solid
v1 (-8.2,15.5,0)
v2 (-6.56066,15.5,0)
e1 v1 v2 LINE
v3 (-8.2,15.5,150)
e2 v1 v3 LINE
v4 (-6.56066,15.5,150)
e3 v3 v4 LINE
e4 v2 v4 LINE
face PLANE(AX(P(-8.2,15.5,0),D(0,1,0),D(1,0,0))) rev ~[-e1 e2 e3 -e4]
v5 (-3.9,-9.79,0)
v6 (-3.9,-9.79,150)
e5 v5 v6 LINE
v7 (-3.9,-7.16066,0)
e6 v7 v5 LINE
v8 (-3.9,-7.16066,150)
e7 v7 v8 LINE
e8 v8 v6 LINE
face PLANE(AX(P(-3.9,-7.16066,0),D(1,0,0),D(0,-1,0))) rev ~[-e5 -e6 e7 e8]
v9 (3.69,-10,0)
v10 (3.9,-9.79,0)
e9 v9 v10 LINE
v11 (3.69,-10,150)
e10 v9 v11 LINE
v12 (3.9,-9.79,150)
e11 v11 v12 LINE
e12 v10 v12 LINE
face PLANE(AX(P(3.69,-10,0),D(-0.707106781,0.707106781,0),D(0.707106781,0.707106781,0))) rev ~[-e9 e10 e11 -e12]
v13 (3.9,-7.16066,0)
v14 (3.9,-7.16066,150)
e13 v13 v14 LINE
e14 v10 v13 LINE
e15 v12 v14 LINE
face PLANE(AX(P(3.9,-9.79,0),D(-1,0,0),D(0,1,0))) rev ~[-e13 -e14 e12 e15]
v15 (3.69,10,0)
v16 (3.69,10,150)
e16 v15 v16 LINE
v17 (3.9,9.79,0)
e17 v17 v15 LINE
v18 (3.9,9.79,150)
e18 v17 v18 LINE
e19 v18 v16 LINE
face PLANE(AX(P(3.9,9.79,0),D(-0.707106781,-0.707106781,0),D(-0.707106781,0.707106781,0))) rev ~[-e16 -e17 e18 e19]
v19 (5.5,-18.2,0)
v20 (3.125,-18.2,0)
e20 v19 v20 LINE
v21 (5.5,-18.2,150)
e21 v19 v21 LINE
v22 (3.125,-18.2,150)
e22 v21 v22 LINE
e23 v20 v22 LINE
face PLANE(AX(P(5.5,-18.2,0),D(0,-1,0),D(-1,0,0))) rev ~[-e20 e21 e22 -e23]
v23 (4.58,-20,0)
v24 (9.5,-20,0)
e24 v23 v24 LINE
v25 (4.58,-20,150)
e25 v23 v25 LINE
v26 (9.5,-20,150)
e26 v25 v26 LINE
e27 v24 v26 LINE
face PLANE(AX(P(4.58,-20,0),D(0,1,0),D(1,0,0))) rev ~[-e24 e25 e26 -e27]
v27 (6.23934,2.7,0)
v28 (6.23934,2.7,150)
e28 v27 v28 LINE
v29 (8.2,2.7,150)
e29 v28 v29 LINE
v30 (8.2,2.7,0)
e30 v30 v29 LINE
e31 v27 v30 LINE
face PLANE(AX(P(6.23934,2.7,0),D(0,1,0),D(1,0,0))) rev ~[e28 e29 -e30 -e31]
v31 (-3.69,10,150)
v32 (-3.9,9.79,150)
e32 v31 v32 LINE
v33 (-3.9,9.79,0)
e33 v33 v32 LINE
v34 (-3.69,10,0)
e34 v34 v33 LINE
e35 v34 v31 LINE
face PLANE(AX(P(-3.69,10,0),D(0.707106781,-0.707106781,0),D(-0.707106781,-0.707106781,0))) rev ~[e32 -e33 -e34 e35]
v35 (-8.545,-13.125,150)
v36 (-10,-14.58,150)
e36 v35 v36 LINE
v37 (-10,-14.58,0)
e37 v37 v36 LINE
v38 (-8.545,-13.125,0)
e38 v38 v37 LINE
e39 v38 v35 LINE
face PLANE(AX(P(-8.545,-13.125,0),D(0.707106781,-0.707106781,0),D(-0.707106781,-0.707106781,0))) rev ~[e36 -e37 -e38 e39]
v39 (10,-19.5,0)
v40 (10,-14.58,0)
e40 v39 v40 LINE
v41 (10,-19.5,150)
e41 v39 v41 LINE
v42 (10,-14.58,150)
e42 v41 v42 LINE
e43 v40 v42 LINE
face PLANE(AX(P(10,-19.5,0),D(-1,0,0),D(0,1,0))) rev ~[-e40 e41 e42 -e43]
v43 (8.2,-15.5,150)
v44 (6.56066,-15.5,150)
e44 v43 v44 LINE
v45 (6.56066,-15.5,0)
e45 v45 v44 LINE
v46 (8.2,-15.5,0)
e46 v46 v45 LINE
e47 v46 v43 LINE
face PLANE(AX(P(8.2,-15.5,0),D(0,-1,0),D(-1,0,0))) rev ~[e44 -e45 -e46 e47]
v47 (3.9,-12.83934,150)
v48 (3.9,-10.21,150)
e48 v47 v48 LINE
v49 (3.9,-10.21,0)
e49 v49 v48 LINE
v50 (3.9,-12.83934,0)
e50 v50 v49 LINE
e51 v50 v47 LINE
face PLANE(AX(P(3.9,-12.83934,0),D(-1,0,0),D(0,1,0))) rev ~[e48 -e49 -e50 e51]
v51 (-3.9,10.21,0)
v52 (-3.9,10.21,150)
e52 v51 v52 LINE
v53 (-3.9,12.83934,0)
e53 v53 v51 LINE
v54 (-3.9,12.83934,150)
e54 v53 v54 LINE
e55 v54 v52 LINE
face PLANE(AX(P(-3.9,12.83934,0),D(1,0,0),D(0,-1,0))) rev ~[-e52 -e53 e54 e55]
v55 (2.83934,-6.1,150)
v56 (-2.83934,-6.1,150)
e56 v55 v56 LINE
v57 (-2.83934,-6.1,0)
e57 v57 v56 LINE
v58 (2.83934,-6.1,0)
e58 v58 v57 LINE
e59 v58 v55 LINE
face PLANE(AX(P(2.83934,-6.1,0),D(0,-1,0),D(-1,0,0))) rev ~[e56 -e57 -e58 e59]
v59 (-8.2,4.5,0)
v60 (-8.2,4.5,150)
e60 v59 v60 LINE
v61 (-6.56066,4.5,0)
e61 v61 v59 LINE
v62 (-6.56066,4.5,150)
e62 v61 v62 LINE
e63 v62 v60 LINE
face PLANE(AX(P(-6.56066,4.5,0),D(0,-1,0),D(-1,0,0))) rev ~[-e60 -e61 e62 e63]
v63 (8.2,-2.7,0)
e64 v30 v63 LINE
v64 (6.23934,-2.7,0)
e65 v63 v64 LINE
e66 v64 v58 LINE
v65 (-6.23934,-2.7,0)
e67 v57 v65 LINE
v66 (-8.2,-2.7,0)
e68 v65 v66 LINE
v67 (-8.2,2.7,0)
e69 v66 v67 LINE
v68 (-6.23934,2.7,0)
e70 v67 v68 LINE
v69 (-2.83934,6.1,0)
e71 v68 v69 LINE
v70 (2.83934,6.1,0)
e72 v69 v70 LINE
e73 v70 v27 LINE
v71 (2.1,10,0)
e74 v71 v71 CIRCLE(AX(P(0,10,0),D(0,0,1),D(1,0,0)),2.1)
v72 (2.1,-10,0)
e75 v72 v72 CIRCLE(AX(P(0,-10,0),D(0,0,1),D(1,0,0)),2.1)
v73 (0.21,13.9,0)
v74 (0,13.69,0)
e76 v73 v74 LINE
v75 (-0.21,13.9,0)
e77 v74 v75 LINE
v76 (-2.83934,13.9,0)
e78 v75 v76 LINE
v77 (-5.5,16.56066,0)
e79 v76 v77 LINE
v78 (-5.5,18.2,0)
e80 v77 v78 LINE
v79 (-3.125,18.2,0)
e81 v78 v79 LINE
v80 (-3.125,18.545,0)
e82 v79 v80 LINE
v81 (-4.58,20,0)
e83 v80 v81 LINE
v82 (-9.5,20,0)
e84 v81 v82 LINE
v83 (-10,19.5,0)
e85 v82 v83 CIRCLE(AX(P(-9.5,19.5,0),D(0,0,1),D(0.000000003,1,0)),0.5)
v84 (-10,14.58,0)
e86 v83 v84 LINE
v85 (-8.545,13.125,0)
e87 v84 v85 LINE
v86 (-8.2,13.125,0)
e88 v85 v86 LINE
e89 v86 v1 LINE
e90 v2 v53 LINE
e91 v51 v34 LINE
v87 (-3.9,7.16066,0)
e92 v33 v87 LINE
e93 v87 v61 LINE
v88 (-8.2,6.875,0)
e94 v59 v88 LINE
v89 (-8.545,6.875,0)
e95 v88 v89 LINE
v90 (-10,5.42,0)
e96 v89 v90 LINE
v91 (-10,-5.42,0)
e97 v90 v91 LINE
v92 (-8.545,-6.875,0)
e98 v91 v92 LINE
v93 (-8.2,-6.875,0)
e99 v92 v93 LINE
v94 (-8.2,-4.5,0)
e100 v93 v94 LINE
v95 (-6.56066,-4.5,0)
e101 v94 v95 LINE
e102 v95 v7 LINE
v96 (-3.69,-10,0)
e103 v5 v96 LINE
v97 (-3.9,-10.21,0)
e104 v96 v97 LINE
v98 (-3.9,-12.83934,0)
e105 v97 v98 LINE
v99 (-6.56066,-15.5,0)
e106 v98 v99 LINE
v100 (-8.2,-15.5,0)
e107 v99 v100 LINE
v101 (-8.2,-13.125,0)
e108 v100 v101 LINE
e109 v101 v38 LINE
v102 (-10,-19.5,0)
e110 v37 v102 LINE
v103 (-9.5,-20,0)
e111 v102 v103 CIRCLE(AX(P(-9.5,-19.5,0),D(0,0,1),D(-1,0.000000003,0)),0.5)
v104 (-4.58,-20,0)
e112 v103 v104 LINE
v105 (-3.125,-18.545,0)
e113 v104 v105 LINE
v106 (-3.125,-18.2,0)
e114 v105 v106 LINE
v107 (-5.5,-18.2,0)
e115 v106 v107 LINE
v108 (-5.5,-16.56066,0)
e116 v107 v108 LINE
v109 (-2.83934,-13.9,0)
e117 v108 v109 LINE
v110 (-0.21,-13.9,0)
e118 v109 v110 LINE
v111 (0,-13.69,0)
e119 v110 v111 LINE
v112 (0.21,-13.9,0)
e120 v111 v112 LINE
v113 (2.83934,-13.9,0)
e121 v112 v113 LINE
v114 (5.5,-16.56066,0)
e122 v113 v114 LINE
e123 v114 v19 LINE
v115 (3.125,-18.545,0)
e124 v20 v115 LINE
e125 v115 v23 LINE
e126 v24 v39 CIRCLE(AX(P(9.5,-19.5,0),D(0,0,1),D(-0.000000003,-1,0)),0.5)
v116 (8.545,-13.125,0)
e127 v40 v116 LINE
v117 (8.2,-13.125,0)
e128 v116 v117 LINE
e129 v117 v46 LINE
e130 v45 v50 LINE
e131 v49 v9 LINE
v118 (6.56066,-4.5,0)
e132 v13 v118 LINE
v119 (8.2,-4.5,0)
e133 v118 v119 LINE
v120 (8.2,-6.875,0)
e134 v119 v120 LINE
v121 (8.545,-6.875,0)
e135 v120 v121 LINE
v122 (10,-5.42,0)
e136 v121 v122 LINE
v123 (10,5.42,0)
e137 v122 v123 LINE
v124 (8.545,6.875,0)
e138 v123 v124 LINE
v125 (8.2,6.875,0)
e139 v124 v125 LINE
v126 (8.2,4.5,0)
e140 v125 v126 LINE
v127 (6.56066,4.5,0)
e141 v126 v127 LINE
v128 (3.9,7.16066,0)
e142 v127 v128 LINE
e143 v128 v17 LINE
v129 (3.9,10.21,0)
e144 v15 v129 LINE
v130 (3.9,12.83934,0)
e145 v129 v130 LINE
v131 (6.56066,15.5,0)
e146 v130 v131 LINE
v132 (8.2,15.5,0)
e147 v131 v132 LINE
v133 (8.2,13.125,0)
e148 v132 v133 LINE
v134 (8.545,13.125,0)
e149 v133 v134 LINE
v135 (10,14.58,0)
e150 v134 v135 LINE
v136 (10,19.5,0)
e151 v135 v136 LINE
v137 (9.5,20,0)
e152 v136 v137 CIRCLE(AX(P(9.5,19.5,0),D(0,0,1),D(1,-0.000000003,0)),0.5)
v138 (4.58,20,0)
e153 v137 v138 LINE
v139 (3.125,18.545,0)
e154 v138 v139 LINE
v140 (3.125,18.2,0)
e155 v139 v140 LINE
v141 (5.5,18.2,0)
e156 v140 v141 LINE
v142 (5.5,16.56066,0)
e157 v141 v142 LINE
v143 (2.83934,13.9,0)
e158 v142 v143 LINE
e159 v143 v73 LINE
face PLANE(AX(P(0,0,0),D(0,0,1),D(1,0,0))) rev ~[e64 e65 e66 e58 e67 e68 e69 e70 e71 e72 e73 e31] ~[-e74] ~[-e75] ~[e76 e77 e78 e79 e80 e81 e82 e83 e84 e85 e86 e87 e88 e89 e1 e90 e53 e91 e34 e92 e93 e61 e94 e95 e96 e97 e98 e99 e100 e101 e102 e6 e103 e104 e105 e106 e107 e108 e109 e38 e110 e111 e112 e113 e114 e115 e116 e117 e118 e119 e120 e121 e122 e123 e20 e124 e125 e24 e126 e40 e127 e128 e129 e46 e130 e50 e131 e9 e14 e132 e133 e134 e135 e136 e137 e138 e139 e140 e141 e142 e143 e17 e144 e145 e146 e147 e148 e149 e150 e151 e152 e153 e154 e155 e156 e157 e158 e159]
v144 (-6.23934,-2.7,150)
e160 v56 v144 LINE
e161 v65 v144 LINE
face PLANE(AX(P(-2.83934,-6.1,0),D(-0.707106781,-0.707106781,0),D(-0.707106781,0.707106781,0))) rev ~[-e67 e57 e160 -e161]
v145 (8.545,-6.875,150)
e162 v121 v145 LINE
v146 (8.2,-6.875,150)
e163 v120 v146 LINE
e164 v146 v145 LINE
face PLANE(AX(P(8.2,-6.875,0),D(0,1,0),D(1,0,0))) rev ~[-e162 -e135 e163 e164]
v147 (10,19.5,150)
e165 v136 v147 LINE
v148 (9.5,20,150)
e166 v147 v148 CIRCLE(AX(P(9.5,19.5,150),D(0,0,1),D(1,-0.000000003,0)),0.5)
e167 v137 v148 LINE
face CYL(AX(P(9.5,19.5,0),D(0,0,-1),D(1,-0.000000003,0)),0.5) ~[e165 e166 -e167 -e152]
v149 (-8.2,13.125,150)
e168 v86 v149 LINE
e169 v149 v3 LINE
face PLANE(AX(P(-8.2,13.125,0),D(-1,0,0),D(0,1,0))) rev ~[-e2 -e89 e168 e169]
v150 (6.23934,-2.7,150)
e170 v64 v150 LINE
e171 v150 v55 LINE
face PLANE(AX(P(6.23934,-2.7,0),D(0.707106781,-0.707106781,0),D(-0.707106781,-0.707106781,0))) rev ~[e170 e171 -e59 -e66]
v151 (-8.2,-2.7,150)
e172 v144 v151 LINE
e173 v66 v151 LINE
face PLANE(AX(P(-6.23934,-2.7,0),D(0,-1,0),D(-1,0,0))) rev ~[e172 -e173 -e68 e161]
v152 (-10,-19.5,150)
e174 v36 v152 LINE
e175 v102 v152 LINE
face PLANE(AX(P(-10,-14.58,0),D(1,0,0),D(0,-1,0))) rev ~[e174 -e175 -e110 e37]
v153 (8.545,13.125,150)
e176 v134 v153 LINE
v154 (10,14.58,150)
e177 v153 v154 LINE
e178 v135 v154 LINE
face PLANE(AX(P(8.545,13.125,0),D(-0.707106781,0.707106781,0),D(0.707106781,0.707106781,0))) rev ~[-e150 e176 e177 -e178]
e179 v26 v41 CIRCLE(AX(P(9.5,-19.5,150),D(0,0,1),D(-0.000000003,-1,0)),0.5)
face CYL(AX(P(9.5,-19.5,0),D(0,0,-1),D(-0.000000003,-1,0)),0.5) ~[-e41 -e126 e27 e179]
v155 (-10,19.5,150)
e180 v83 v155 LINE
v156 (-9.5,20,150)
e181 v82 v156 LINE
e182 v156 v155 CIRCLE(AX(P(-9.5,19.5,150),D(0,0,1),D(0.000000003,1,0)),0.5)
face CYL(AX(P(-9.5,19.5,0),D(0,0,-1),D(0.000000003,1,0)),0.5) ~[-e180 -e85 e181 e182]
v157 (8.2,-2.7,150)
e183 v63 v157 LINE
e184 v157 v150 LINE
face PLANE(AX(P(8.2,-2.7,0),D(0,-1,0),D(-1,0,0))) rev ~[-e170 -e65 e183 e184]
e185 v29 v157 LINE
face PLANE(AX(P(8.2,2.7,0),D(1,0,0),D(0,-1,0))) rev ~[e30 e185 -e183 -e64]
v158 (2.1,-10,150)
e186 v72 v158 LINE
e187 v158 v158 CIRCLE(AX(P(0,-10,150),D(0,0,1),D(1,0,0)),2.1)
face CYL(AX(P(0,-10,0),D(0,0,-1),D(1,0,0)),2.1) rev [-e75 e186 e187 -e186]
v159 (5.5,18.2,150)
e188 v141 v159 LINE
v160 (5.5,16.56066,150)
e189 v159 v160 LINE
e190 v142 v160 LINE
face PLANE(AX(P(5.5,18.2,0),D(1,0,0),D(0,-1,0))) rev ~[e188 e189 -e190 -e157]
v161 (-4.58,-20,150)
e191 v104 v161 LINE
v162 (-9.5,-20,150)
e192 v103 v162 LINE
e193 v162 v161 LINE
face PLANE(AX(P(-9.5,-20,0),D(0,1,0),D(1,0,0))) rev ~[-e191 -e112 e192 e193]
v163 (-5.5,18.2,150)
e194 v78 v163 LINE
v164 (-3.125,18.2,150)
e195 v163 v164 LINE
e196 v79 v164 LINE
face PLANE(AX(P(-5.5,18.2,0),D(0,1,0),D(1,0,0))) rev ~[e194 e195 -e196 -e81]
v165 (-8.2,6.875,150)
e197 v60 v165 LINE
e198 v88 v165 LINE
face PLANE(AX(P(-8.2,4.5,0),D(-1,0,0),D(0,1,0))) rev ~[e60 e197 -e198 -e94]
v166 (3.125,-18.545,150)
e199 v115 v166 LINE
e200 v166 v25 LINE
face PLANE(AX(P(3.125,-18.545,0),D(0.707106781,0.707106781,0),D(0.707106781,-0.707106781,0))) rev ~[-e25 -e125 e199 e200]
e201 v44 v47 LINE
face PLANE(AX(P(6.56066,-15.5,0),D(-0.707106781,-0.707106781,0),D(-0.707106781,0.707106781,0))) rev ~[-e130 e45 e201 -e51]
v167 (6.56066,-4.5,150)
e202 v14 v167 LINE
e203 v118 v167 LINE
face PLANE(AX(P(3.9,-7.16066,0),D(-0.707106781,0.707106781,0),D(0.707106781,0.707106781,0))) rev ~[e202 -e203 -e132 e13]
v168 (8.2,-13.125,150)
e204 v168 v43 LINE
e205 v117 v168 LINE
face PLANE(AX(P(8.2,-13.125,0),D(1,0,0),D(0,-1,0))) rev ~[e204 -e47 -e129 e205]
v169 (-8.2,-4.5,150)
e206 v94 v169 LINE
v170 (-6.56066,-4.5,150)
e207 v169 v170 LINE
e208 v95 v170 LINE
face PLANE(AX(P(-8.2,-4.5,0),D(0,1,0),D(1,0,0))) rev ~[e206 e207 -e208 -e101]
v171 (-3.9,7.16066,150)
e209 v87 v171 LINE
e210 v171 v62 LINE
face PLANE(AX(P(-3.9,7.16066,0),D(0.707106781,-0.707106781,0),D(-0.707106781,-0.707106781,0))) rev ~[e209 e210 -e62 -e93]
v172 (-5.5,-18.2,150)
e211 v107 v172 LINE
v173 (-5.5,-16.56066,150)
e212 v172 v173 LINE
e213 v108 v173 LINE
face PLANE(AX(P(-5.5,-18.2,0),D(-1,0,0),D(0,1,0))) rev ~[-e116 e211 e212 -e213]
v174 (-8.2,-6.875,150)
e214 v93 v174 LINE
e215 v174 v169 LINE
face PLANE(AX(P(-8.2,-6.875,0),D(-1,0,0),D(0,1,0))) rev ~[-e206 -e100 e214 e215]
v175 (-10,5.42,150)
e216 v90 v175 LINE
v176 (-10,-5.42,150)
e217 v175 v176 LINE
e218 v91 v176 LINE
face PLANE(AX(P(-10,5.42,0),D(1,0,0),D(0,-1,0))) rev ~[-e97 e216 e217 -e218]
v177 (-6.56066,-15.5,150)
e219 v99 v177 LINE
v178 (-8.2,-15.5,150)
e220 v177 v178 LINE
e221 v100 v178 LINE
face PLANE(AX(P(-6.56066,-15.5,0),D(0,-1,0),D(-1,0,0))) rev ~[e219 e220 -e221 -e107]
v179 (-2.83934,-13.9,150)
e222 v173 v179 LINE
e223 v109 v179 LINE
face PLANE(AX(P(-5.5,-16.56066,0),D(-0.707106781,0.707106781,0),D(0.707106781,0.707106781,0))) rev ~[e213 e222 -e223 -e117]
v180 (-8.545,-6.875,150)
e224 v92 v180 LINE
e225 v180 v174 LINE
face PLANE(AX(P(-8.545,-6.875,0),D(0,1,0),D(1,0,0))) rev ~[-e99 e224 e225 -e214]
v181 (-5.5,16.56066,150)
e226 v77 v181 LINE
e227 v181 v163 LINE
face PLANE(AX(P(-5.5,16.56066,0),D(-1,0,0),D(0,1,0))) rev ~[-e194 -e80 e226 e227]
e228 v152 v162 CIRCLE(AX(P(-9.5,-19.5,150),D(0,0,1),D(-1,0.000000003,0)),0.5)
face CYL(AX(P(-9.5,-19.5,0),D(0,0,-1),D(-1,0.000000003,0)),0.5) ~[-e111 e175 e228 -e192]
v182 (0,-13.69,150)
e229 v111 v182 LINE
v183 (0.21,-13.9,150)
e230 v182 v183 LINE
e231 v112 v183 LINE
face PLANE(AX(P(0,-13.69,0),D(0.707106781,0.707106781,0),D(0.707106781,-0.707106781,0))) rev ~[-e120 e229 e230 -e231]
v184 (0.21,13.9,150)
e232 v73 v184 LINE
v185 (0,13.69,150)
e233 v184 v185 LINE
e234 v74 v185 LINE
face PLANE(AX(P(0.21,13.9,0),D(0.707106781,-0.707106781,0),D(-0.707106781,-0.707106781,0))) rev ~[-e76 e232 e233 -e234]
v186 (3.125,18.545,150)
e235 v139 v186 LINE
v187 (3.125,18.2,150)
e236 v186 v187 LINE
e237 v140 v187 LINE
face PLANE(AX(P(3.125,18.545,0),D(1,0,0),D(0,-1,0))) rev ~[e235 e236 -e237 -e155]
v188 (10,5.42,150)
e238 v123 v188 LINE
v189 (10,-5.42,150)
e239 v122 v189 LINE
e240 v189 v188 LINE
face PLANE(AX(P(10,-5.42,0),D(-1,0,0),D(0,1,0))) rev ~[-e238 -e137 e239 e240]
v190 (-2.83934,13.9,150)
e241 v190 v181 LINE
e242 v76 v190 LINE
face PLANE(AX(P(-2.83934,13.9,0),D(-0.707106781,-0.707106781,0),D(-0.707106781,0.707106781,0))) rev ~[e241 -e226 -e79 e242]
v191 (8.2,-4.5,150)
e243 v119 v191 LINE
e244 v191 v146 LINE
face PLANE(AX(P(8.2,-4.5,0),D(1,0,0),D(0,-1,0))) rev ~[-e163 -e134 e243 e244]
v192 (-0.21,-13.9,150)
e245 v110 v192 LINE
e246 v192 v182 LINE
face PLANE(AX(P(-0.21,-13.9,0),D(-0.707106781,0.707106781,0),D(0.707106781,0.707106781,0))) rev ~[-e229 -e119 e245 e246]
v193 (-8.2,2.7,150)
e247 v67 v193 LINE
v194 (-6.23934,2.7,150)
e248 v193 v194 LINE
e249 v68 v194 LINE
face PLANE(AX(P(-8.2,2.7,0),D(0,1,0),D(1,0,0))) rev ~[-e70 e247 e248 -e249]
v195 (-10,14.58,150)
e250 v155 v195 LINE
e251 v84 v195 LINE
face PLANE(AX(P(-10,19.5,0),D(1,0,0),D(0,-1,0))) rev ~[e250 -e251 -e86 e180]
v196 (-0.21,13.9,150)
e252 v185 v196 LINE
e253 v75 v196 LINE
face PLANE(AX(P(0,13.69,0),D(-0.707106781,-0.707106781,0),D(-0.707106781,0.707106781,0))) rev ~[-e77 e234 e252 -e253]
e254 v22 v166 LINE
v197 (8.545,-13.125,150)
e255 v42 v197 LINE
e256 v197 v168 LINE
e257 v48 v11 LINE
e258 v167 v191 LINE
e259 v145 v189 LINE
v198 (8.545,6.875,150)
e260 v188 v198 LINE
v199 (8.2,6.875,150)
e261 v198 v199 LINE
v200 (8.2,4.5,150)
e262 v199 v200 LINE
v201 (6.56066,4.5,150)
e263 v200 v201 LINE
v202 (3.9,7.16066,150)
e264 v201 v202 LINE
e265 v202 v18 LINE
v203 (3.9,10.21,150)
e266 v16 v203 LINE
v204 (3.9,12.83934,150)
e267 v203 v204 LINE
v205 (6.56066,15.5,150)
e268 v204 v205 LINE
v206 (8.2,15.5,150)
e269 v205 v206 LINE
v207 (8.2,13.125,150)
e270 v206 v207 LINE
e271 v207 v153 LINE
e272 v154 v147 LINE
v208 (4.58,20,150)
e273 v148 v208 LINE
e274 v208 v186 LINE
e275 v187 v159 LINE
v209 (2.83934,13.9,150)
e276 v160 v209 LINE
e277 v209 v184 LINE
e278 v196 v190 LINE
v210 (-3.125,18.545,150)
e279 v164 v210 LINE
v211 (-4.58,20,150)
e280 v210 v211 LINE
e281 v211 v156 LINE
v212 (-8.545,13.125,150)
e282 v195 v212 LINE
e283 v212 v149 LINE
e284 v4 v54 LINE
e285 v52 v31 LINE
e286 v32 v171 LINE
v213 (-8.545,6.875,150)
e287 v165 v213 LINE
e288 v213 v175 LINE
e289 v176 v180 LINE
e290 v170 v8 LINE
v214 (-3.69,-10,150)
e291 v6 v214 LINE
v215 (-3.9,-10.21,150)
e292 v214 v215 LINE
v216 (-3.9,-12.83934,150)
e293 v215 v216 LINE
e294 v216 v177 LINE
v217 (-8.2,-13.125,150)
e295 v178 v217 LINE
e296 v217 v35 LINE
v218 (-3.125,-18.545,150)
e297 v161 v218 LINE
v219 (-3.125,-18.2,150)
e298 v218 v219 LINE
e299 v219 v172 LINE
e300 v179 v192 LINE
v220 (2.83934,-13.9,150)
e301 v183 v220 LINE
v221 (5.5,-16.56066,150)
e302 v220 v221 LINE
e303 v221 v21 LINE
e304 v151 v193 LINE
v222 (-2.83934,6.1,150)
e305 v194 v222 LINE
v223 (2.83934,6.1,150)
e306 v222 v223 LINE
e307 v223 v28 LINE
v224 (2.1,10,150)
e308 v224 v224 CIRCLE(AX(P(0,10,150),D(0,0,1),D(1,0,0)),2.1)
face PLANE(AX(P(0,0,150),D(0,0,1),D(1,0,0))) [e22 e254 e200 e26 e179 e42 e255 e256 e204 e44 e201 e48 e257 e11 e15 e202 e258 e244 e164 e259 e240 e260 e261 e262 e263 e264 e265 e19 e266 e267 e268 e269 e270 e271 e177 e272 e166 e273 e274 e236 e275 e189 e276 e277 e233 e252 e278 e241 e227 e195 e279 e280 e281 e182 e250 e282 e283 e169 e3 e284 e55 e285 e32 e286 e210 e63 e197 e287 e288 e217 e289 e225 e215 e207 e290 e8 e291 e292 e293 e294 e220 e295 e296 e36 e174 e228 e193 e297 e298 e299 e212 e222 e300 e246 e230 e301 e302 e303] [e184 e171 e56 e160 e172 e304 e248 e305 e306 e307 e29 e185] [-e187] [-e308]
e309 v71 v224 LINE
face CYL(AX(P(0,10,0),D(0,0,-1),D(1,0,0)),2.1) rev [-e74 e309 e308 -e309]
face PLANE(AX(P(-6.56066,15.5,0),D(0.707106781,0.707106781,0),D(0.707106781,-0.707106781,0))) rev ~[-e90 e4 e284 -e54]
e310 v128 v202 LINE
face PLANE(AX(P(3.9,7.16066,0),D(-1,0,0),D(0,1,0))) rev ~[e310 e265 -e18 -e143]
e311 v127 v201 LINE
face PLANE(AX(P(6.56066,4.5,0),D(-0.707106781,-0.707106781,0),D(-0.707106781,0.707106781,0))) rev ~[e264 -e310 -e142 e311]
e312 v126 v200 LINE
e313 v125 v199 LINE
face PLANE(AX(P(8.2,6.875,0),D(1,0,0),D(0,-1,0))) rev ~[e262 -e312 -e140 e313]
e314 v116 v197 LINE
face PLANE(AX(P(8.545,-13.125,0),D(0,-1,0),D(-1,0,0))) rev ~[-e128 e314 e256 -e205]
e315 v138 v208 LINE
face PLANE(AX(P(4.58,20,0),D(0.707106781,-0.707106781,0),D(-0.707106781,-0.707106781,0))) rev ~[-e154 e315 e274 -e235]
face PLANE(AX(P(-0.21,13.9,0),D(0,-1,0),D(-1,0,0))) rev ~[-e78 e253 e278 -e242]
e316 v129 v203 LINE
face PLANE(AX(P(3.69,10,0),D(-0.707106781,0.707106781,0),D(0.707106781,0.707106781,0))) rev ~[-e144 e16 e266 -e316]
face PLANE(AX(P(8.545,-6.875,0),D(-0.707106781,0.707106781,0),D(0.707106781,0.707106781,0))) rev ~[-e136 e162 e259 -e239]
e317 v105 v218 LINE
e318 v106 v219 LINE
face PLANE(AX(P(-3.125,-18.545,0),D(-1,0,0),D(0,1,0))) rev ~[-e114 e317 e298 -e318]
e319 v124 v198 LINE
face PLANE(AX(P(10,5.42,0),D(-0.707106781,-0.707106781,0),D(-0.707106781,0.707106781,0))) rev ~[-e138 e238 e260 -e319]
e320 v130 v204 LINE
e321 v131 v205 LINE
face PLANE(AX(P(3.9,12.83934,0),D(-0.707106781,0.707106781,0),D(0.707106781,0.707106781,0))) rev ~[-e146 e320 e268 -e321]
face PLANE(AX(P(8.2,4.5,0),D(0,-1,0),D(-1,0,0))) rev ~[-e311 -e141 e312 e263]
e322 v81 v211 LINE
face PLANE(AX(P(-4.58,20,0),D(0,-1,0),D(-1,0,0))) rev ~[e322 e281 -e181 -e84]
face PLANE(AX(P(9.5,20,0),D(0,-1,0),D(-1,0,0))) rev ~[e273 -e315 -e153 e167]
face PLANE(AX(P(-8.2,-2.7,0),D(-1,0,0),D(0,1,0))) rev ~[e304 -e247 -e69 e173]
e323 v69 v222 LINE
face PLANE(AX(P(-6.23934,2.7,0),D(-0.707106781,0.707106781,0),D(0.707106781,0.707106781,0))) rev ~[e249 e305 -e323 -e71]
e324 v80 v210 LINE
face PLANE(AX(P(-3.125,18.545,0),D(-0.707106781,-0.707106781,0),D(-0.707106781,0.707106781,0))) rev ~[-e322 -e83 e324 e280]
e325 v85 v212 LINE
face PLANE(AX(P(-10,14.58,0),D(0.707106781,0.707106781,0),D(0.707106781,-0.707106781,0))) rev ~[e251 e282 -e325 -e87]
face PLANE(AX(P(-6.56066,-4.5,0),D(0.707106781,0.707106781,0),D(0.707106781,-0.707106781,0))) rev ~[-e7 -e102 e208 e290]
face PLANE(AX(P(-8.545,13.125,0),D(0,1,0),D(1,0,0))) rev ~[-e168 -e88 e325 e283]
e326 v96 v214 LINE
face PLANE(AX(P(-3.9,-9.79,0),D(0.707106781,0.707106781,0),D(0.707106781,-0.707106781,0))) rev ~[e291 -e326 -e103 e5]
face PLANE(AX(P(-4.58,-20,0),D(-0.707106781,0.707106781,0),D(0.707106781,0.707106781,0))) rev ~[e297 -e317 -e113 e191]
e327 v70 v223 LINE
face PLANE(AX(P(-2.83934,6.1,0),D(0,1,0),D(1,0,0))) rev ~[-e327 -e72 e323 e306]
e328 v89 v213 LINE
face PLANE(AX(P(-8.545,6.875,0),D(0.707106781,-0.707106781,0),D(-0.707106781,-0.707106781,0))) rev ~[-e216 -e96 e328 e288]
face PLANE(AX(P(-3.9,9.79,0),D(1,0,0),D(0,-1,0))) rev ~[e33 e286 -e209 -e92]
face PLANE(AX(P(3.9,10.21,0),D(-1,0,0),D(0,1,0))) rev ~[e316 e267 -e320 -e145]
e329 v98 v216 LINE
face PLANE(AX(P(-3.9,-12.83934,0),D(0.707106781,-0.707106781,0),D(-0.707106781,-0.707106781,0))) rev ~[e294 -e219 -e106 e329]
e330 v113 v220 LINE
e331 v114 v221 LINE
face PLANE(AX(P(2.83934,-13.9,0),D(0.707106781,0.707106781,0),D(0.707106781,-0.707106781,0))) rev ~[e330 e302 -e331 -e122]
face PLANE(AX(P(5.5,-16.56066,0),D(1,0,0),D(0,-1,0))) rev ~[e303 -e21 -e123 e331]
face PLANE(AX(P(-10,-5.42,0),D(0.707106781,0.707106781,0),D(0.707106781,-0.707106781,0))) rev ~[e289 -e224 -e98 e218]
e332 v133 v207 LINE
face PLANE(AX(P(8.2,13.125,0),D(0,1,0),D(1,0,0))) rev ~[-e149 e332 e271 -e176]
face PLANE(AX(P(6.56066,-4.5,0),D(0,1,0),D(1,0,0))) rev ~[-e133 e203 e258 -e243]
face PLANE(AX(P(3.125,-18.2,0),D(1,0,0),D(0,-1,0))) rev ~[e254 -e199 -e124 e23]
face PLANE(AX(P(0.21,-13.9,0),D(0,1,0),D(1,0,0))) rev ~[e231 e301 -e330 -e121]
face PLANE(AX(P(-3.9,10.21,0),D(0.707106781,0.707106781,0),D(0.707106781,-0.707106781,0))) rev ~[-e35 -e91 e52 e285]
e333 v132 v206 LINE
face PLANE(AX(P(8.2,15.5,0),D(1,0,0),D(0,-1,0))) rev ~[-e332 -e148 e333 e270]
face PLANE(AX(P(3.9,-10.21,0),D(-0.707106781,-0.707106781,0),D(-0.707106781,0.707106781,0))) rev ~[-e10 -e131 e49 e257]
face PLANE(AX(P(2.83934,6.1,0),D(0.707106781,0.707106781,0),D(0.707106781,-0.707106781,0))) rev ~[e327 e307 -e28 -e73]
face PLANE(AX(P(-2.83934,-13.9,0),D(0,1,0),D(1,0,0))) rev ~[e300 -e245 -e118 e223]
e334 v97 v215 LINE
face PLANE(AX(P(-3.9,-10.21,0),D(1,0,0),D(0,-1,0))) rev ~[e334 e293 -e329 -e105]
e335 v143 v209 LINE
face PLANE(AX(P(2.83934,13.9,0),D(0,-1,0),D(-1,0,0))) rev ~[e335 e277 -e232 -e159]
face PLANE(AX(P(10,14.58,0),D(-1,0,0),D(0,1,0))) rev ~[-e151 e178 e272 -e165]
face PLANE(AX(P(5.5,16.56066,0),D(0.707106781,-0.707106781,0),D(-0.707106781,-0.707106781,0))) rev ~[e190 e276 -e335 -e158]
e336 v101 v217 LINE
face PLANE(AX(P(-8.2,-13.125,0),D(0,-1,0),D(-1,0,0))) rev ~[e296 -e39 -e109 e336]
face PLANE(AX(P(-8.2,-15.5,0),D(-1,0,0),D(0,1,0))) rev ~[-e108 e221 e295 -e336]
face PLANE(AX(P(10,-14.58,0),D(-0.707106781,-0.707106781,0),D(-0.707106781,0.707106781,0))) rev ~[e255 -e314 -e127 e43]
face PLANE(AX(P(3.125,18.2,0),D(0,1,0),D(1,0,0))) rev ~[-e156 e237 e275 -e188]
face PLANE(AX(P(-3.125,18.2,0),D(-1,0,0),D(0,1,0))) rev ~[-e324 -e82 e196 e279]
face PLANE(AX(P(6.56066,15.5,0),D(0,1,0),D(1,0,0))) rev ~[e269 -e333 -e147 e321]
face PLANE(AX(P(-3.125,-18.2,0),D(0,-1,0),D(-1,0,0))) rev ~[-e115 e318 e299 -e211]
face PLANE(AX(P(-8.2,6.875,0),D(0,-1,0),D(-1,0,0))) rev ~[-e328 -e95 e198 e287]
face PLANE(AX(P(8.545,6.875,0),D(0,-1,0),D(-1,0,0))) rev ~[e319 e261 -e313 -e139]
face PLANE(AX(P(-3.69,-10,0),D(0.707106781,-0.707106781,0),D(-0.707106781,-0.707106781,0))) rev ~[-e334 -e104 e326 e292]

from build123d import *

# Parameters (mm, degrees)
SKETCH1_R           = 2.1
BOSS_EXTRUDE1_DEPTH = 150


with BuildPart() as part:
    # Sketch1 → Boss-Extrude1 (new body)
    with BuildSketch(Plane.XY):
        with BuildLine():
            Line((4.58, -20), (9.5, -20))
            ThreePointArc((9.5, -20), (9.853553391, -19.853553391), (10, -19.5))
            Line((10, -19.5), (10, -14.58))
            Line((10, -14.58), (8.545, -13.125))
            Line((8.545, -13.125), (8.2, -13.125))
            Line((8.2, -13.125), (8.2, -15.5))
            Line((8.2, -15.5), (6.560660172, -15.5))
            Line((6.560660172, -15.5), (3.9, -12.839339828))
            Line((3.9, -12.839339828), (3.9, -10.21))
            Line((3.9, -10.21), (3.69, -10))
            Line((3.69, -10), (3.9, -9.79))
            Line((3.9, -9.79), (3.9, -7.160660172))
            Line((3.9, -7.160660172), (6.560660172, -4.5))
            Line((6.560660172, -4.5), (8.2, -4.5))
            Line((8.2, -4.5), (8.2, -6.875))
            Line((8.2, -6.875), (8.545, -6.875))
            Line((8.545, -6.875), (10, -5.42))
            Line((10, -5.42), (10, 5.42))
            Line((10, 5.42), (8.545, 6.875))
            Line((8.545, 6.875), (8.2, 6.875))
            Line((8.2, 6.875), (8.2, 4.5))
            Line((8.2, 4.5), (6.560660172, 4.5))
            Line((6.560660172, 4.5), (3.9, 7.160660172))
            Line((3.9, 7.160660172), (3.9, 9.79))
            Line((3.9, 9.79), (3.69, 10))
            Line((3.69, 10), (3.9, 10.21))
            Line((3.9, 10.21), (3.9, 12.839339828))
            Line((3.9, 12.839339828), (6.560660172, 15.5))
            Line((6.560660172, 15.5), (8.2, 15.5))
            Line((8.2, 15.5), (8.2, 13.125))
            Line((8.2, 13.125), (8.545, 13.125))
            Line((8.545, 13.125), (10, 14.58))
            Line((10, 14.58), (10, 19.5))
            ThreePointArc((10, 19.5), (9.853553391, 19.853553391), (9.5, 20))
            Line((9.5, 20), (4.58, 20))
            Line((4.58, 20), (3.125, 18.545))
            Line((3.125, 18.545), (3.125, 18.2))
            Line((3.125, 18.2), (5.5, 18.2))
            Line((5.5, 18.2), (5.5, 16.560660172))
            Line((5.5, 16.560660172), (2.839339828, 13.9))
            Line((2.839339828, 13.9), (0.21, 13.9))
            Line((0.21, 13.9), (0, 13.69))
            Line((0, 13.69), (-0.21, 13.9))
            Line((-0.21, 13.9), (-2.839339828, 13.9))
            Line((-2.839339828, 13.9), (-5.5, 16.560660172))
            Line((-5.5, 16.560660172), (-5.5, 18.2))
            Line((-5.5, 18.2), (-3.125, 18.2))
            Line((-3.125, 18.2), (-3.125, 18.545))
            Line((-3.125, 18.545), (-4.58, 20))
            Line((-4.58, 20), (-9.5, 20))
            ThreePointArc((-9.5, 20), (-9.853553391, 19.853553391), (-10, 19.5))
            Line((-10, 19.5), (-10, 14.58))
            Line((-10, 14.58), (-8.545, 13.125))
            Line((-8.545, 13.125), (-8.2, 13.125))
            Line((-8.2, 13.125), (-8.2, 15.5))
            Line((-8.2, 15.5), (-6.560660172, 15.5))
            Line((-6.560660172, 15.5), (-3.9, 12.839339828))
            Line((-3.9, 12.839339828), (-3.9, 10.21))
            Line((-3.9, 10.21), (-3.69, 10))
            Line((-3.69, 10), (-3.9, 9.79))
            Line((-3.9, 9.79), (-3.9, 7.160660172))
            Line((-3.9, 7.160660172), (-6.560660172, 4.5))
            Line((-6.560660172, 4.5), (-8.2, 4.5))
            Line((-8.2, 4.5), (-8.2, 6.875))
            Line((-8.2, 6.875), (-8.545, 6.875))
            Line((-8.545, 6.875), (-10, 5.42))
            Line((-10, 5.42), (-10, -5.42))
            Line((-10, -5.42), (-8.545, -6.875))
            Line((-8.545, -6.875), (-8.2, -6.875))
            Line((-8.2, -6.875), (-8.2, -4.5))
            Line((-8.2, -4.5), (-6.560660172, -4.5))
            Line((-6.560660172, -4.5), (-3.9, -7.160660172))
            Line((-3.9, -7.160660172), (-3.9, -9.79))
            Line((-3.9, -9.79), (-3.69, -10))
            Line((-3.69, -10), (-3.9, -10.21))
            Line((-3.9, -10.21), (-3.9, -12.839339828))
            Line((-3.9, -12.839339828), (-6.560660172, -15.5))
            Line((-6.560660172, -15.5), (-8.2, -15.5))
            Line((-8.2, -15.5), (-8.2, -13.125))
            Line((-8.2, -13.125), (-8.545, -13.125))
            Line((-8.545, -13.125), (-10, -14.58))
            Line((-10, -14.58), (-10, -19.5))
            ThreePointArc((-10, -19.5), (-9.853553391, -19.853553391), (-9.5, -20))
            Line((-9.5, -20), (-4.58, -20))
            Line((-4.58, -20), (-3.125, -18.545))
            Line((-3.125, -18.545), (-3.125, -18.2))
            Line((-3.125, -18.2), (-5.5, -18.2))
            Line((-5.5, -18.2), (-5.5, -16.560660172))
            Line((-5.5, -16.560660172), (-2.839339828, -13.9))
            Line((-2.839339828, -13.9), (-0.21, -13.9))
            Line((-0.21, -13.9), (0, -13.69))
            Line((0, -13.69), (0.21, -13.9))
            Line((0.21, -13.9), (2.839339828, -13.9))
            Line((2.839339828, -13.9), (5.5, -16.560660172))
            Line((5.5, -16.560660172), (5.5, -18.2))
            Line((5.5, -18.2), (3.125, -18.2))
            Line((3.125, -18.2), (3.125, -18.545))
            Line((3.125, -18.545), (4.58, -20))
        make_face()
        with Locations((0, -10)):
            Circle(SKETCH1_R, mode=Mode.SUBTRACT)
        Polygon((-6.239339828, -2.7), (-8.2, -2.7), (-8.2, 2.7), (-6.239339828, 2.7), (-2.839339828, 6.1), (2.839339828, 6.1), (6.239339828, 2.7), (8.2, 2.7), (8.2, -2.7), (6.239339828, -2.7), (2.839339828, -6.1), (-2.839339828, -6.1), align=None, mode=Mode.SUBTRACT)
        with Locations((0, 10)):
            Circle(SKETCH1_R, mode=Mode.SUBTRACT)
    extrude(amount=BOSS_EXTRUDE1_DEPTH)


solid = part.part
